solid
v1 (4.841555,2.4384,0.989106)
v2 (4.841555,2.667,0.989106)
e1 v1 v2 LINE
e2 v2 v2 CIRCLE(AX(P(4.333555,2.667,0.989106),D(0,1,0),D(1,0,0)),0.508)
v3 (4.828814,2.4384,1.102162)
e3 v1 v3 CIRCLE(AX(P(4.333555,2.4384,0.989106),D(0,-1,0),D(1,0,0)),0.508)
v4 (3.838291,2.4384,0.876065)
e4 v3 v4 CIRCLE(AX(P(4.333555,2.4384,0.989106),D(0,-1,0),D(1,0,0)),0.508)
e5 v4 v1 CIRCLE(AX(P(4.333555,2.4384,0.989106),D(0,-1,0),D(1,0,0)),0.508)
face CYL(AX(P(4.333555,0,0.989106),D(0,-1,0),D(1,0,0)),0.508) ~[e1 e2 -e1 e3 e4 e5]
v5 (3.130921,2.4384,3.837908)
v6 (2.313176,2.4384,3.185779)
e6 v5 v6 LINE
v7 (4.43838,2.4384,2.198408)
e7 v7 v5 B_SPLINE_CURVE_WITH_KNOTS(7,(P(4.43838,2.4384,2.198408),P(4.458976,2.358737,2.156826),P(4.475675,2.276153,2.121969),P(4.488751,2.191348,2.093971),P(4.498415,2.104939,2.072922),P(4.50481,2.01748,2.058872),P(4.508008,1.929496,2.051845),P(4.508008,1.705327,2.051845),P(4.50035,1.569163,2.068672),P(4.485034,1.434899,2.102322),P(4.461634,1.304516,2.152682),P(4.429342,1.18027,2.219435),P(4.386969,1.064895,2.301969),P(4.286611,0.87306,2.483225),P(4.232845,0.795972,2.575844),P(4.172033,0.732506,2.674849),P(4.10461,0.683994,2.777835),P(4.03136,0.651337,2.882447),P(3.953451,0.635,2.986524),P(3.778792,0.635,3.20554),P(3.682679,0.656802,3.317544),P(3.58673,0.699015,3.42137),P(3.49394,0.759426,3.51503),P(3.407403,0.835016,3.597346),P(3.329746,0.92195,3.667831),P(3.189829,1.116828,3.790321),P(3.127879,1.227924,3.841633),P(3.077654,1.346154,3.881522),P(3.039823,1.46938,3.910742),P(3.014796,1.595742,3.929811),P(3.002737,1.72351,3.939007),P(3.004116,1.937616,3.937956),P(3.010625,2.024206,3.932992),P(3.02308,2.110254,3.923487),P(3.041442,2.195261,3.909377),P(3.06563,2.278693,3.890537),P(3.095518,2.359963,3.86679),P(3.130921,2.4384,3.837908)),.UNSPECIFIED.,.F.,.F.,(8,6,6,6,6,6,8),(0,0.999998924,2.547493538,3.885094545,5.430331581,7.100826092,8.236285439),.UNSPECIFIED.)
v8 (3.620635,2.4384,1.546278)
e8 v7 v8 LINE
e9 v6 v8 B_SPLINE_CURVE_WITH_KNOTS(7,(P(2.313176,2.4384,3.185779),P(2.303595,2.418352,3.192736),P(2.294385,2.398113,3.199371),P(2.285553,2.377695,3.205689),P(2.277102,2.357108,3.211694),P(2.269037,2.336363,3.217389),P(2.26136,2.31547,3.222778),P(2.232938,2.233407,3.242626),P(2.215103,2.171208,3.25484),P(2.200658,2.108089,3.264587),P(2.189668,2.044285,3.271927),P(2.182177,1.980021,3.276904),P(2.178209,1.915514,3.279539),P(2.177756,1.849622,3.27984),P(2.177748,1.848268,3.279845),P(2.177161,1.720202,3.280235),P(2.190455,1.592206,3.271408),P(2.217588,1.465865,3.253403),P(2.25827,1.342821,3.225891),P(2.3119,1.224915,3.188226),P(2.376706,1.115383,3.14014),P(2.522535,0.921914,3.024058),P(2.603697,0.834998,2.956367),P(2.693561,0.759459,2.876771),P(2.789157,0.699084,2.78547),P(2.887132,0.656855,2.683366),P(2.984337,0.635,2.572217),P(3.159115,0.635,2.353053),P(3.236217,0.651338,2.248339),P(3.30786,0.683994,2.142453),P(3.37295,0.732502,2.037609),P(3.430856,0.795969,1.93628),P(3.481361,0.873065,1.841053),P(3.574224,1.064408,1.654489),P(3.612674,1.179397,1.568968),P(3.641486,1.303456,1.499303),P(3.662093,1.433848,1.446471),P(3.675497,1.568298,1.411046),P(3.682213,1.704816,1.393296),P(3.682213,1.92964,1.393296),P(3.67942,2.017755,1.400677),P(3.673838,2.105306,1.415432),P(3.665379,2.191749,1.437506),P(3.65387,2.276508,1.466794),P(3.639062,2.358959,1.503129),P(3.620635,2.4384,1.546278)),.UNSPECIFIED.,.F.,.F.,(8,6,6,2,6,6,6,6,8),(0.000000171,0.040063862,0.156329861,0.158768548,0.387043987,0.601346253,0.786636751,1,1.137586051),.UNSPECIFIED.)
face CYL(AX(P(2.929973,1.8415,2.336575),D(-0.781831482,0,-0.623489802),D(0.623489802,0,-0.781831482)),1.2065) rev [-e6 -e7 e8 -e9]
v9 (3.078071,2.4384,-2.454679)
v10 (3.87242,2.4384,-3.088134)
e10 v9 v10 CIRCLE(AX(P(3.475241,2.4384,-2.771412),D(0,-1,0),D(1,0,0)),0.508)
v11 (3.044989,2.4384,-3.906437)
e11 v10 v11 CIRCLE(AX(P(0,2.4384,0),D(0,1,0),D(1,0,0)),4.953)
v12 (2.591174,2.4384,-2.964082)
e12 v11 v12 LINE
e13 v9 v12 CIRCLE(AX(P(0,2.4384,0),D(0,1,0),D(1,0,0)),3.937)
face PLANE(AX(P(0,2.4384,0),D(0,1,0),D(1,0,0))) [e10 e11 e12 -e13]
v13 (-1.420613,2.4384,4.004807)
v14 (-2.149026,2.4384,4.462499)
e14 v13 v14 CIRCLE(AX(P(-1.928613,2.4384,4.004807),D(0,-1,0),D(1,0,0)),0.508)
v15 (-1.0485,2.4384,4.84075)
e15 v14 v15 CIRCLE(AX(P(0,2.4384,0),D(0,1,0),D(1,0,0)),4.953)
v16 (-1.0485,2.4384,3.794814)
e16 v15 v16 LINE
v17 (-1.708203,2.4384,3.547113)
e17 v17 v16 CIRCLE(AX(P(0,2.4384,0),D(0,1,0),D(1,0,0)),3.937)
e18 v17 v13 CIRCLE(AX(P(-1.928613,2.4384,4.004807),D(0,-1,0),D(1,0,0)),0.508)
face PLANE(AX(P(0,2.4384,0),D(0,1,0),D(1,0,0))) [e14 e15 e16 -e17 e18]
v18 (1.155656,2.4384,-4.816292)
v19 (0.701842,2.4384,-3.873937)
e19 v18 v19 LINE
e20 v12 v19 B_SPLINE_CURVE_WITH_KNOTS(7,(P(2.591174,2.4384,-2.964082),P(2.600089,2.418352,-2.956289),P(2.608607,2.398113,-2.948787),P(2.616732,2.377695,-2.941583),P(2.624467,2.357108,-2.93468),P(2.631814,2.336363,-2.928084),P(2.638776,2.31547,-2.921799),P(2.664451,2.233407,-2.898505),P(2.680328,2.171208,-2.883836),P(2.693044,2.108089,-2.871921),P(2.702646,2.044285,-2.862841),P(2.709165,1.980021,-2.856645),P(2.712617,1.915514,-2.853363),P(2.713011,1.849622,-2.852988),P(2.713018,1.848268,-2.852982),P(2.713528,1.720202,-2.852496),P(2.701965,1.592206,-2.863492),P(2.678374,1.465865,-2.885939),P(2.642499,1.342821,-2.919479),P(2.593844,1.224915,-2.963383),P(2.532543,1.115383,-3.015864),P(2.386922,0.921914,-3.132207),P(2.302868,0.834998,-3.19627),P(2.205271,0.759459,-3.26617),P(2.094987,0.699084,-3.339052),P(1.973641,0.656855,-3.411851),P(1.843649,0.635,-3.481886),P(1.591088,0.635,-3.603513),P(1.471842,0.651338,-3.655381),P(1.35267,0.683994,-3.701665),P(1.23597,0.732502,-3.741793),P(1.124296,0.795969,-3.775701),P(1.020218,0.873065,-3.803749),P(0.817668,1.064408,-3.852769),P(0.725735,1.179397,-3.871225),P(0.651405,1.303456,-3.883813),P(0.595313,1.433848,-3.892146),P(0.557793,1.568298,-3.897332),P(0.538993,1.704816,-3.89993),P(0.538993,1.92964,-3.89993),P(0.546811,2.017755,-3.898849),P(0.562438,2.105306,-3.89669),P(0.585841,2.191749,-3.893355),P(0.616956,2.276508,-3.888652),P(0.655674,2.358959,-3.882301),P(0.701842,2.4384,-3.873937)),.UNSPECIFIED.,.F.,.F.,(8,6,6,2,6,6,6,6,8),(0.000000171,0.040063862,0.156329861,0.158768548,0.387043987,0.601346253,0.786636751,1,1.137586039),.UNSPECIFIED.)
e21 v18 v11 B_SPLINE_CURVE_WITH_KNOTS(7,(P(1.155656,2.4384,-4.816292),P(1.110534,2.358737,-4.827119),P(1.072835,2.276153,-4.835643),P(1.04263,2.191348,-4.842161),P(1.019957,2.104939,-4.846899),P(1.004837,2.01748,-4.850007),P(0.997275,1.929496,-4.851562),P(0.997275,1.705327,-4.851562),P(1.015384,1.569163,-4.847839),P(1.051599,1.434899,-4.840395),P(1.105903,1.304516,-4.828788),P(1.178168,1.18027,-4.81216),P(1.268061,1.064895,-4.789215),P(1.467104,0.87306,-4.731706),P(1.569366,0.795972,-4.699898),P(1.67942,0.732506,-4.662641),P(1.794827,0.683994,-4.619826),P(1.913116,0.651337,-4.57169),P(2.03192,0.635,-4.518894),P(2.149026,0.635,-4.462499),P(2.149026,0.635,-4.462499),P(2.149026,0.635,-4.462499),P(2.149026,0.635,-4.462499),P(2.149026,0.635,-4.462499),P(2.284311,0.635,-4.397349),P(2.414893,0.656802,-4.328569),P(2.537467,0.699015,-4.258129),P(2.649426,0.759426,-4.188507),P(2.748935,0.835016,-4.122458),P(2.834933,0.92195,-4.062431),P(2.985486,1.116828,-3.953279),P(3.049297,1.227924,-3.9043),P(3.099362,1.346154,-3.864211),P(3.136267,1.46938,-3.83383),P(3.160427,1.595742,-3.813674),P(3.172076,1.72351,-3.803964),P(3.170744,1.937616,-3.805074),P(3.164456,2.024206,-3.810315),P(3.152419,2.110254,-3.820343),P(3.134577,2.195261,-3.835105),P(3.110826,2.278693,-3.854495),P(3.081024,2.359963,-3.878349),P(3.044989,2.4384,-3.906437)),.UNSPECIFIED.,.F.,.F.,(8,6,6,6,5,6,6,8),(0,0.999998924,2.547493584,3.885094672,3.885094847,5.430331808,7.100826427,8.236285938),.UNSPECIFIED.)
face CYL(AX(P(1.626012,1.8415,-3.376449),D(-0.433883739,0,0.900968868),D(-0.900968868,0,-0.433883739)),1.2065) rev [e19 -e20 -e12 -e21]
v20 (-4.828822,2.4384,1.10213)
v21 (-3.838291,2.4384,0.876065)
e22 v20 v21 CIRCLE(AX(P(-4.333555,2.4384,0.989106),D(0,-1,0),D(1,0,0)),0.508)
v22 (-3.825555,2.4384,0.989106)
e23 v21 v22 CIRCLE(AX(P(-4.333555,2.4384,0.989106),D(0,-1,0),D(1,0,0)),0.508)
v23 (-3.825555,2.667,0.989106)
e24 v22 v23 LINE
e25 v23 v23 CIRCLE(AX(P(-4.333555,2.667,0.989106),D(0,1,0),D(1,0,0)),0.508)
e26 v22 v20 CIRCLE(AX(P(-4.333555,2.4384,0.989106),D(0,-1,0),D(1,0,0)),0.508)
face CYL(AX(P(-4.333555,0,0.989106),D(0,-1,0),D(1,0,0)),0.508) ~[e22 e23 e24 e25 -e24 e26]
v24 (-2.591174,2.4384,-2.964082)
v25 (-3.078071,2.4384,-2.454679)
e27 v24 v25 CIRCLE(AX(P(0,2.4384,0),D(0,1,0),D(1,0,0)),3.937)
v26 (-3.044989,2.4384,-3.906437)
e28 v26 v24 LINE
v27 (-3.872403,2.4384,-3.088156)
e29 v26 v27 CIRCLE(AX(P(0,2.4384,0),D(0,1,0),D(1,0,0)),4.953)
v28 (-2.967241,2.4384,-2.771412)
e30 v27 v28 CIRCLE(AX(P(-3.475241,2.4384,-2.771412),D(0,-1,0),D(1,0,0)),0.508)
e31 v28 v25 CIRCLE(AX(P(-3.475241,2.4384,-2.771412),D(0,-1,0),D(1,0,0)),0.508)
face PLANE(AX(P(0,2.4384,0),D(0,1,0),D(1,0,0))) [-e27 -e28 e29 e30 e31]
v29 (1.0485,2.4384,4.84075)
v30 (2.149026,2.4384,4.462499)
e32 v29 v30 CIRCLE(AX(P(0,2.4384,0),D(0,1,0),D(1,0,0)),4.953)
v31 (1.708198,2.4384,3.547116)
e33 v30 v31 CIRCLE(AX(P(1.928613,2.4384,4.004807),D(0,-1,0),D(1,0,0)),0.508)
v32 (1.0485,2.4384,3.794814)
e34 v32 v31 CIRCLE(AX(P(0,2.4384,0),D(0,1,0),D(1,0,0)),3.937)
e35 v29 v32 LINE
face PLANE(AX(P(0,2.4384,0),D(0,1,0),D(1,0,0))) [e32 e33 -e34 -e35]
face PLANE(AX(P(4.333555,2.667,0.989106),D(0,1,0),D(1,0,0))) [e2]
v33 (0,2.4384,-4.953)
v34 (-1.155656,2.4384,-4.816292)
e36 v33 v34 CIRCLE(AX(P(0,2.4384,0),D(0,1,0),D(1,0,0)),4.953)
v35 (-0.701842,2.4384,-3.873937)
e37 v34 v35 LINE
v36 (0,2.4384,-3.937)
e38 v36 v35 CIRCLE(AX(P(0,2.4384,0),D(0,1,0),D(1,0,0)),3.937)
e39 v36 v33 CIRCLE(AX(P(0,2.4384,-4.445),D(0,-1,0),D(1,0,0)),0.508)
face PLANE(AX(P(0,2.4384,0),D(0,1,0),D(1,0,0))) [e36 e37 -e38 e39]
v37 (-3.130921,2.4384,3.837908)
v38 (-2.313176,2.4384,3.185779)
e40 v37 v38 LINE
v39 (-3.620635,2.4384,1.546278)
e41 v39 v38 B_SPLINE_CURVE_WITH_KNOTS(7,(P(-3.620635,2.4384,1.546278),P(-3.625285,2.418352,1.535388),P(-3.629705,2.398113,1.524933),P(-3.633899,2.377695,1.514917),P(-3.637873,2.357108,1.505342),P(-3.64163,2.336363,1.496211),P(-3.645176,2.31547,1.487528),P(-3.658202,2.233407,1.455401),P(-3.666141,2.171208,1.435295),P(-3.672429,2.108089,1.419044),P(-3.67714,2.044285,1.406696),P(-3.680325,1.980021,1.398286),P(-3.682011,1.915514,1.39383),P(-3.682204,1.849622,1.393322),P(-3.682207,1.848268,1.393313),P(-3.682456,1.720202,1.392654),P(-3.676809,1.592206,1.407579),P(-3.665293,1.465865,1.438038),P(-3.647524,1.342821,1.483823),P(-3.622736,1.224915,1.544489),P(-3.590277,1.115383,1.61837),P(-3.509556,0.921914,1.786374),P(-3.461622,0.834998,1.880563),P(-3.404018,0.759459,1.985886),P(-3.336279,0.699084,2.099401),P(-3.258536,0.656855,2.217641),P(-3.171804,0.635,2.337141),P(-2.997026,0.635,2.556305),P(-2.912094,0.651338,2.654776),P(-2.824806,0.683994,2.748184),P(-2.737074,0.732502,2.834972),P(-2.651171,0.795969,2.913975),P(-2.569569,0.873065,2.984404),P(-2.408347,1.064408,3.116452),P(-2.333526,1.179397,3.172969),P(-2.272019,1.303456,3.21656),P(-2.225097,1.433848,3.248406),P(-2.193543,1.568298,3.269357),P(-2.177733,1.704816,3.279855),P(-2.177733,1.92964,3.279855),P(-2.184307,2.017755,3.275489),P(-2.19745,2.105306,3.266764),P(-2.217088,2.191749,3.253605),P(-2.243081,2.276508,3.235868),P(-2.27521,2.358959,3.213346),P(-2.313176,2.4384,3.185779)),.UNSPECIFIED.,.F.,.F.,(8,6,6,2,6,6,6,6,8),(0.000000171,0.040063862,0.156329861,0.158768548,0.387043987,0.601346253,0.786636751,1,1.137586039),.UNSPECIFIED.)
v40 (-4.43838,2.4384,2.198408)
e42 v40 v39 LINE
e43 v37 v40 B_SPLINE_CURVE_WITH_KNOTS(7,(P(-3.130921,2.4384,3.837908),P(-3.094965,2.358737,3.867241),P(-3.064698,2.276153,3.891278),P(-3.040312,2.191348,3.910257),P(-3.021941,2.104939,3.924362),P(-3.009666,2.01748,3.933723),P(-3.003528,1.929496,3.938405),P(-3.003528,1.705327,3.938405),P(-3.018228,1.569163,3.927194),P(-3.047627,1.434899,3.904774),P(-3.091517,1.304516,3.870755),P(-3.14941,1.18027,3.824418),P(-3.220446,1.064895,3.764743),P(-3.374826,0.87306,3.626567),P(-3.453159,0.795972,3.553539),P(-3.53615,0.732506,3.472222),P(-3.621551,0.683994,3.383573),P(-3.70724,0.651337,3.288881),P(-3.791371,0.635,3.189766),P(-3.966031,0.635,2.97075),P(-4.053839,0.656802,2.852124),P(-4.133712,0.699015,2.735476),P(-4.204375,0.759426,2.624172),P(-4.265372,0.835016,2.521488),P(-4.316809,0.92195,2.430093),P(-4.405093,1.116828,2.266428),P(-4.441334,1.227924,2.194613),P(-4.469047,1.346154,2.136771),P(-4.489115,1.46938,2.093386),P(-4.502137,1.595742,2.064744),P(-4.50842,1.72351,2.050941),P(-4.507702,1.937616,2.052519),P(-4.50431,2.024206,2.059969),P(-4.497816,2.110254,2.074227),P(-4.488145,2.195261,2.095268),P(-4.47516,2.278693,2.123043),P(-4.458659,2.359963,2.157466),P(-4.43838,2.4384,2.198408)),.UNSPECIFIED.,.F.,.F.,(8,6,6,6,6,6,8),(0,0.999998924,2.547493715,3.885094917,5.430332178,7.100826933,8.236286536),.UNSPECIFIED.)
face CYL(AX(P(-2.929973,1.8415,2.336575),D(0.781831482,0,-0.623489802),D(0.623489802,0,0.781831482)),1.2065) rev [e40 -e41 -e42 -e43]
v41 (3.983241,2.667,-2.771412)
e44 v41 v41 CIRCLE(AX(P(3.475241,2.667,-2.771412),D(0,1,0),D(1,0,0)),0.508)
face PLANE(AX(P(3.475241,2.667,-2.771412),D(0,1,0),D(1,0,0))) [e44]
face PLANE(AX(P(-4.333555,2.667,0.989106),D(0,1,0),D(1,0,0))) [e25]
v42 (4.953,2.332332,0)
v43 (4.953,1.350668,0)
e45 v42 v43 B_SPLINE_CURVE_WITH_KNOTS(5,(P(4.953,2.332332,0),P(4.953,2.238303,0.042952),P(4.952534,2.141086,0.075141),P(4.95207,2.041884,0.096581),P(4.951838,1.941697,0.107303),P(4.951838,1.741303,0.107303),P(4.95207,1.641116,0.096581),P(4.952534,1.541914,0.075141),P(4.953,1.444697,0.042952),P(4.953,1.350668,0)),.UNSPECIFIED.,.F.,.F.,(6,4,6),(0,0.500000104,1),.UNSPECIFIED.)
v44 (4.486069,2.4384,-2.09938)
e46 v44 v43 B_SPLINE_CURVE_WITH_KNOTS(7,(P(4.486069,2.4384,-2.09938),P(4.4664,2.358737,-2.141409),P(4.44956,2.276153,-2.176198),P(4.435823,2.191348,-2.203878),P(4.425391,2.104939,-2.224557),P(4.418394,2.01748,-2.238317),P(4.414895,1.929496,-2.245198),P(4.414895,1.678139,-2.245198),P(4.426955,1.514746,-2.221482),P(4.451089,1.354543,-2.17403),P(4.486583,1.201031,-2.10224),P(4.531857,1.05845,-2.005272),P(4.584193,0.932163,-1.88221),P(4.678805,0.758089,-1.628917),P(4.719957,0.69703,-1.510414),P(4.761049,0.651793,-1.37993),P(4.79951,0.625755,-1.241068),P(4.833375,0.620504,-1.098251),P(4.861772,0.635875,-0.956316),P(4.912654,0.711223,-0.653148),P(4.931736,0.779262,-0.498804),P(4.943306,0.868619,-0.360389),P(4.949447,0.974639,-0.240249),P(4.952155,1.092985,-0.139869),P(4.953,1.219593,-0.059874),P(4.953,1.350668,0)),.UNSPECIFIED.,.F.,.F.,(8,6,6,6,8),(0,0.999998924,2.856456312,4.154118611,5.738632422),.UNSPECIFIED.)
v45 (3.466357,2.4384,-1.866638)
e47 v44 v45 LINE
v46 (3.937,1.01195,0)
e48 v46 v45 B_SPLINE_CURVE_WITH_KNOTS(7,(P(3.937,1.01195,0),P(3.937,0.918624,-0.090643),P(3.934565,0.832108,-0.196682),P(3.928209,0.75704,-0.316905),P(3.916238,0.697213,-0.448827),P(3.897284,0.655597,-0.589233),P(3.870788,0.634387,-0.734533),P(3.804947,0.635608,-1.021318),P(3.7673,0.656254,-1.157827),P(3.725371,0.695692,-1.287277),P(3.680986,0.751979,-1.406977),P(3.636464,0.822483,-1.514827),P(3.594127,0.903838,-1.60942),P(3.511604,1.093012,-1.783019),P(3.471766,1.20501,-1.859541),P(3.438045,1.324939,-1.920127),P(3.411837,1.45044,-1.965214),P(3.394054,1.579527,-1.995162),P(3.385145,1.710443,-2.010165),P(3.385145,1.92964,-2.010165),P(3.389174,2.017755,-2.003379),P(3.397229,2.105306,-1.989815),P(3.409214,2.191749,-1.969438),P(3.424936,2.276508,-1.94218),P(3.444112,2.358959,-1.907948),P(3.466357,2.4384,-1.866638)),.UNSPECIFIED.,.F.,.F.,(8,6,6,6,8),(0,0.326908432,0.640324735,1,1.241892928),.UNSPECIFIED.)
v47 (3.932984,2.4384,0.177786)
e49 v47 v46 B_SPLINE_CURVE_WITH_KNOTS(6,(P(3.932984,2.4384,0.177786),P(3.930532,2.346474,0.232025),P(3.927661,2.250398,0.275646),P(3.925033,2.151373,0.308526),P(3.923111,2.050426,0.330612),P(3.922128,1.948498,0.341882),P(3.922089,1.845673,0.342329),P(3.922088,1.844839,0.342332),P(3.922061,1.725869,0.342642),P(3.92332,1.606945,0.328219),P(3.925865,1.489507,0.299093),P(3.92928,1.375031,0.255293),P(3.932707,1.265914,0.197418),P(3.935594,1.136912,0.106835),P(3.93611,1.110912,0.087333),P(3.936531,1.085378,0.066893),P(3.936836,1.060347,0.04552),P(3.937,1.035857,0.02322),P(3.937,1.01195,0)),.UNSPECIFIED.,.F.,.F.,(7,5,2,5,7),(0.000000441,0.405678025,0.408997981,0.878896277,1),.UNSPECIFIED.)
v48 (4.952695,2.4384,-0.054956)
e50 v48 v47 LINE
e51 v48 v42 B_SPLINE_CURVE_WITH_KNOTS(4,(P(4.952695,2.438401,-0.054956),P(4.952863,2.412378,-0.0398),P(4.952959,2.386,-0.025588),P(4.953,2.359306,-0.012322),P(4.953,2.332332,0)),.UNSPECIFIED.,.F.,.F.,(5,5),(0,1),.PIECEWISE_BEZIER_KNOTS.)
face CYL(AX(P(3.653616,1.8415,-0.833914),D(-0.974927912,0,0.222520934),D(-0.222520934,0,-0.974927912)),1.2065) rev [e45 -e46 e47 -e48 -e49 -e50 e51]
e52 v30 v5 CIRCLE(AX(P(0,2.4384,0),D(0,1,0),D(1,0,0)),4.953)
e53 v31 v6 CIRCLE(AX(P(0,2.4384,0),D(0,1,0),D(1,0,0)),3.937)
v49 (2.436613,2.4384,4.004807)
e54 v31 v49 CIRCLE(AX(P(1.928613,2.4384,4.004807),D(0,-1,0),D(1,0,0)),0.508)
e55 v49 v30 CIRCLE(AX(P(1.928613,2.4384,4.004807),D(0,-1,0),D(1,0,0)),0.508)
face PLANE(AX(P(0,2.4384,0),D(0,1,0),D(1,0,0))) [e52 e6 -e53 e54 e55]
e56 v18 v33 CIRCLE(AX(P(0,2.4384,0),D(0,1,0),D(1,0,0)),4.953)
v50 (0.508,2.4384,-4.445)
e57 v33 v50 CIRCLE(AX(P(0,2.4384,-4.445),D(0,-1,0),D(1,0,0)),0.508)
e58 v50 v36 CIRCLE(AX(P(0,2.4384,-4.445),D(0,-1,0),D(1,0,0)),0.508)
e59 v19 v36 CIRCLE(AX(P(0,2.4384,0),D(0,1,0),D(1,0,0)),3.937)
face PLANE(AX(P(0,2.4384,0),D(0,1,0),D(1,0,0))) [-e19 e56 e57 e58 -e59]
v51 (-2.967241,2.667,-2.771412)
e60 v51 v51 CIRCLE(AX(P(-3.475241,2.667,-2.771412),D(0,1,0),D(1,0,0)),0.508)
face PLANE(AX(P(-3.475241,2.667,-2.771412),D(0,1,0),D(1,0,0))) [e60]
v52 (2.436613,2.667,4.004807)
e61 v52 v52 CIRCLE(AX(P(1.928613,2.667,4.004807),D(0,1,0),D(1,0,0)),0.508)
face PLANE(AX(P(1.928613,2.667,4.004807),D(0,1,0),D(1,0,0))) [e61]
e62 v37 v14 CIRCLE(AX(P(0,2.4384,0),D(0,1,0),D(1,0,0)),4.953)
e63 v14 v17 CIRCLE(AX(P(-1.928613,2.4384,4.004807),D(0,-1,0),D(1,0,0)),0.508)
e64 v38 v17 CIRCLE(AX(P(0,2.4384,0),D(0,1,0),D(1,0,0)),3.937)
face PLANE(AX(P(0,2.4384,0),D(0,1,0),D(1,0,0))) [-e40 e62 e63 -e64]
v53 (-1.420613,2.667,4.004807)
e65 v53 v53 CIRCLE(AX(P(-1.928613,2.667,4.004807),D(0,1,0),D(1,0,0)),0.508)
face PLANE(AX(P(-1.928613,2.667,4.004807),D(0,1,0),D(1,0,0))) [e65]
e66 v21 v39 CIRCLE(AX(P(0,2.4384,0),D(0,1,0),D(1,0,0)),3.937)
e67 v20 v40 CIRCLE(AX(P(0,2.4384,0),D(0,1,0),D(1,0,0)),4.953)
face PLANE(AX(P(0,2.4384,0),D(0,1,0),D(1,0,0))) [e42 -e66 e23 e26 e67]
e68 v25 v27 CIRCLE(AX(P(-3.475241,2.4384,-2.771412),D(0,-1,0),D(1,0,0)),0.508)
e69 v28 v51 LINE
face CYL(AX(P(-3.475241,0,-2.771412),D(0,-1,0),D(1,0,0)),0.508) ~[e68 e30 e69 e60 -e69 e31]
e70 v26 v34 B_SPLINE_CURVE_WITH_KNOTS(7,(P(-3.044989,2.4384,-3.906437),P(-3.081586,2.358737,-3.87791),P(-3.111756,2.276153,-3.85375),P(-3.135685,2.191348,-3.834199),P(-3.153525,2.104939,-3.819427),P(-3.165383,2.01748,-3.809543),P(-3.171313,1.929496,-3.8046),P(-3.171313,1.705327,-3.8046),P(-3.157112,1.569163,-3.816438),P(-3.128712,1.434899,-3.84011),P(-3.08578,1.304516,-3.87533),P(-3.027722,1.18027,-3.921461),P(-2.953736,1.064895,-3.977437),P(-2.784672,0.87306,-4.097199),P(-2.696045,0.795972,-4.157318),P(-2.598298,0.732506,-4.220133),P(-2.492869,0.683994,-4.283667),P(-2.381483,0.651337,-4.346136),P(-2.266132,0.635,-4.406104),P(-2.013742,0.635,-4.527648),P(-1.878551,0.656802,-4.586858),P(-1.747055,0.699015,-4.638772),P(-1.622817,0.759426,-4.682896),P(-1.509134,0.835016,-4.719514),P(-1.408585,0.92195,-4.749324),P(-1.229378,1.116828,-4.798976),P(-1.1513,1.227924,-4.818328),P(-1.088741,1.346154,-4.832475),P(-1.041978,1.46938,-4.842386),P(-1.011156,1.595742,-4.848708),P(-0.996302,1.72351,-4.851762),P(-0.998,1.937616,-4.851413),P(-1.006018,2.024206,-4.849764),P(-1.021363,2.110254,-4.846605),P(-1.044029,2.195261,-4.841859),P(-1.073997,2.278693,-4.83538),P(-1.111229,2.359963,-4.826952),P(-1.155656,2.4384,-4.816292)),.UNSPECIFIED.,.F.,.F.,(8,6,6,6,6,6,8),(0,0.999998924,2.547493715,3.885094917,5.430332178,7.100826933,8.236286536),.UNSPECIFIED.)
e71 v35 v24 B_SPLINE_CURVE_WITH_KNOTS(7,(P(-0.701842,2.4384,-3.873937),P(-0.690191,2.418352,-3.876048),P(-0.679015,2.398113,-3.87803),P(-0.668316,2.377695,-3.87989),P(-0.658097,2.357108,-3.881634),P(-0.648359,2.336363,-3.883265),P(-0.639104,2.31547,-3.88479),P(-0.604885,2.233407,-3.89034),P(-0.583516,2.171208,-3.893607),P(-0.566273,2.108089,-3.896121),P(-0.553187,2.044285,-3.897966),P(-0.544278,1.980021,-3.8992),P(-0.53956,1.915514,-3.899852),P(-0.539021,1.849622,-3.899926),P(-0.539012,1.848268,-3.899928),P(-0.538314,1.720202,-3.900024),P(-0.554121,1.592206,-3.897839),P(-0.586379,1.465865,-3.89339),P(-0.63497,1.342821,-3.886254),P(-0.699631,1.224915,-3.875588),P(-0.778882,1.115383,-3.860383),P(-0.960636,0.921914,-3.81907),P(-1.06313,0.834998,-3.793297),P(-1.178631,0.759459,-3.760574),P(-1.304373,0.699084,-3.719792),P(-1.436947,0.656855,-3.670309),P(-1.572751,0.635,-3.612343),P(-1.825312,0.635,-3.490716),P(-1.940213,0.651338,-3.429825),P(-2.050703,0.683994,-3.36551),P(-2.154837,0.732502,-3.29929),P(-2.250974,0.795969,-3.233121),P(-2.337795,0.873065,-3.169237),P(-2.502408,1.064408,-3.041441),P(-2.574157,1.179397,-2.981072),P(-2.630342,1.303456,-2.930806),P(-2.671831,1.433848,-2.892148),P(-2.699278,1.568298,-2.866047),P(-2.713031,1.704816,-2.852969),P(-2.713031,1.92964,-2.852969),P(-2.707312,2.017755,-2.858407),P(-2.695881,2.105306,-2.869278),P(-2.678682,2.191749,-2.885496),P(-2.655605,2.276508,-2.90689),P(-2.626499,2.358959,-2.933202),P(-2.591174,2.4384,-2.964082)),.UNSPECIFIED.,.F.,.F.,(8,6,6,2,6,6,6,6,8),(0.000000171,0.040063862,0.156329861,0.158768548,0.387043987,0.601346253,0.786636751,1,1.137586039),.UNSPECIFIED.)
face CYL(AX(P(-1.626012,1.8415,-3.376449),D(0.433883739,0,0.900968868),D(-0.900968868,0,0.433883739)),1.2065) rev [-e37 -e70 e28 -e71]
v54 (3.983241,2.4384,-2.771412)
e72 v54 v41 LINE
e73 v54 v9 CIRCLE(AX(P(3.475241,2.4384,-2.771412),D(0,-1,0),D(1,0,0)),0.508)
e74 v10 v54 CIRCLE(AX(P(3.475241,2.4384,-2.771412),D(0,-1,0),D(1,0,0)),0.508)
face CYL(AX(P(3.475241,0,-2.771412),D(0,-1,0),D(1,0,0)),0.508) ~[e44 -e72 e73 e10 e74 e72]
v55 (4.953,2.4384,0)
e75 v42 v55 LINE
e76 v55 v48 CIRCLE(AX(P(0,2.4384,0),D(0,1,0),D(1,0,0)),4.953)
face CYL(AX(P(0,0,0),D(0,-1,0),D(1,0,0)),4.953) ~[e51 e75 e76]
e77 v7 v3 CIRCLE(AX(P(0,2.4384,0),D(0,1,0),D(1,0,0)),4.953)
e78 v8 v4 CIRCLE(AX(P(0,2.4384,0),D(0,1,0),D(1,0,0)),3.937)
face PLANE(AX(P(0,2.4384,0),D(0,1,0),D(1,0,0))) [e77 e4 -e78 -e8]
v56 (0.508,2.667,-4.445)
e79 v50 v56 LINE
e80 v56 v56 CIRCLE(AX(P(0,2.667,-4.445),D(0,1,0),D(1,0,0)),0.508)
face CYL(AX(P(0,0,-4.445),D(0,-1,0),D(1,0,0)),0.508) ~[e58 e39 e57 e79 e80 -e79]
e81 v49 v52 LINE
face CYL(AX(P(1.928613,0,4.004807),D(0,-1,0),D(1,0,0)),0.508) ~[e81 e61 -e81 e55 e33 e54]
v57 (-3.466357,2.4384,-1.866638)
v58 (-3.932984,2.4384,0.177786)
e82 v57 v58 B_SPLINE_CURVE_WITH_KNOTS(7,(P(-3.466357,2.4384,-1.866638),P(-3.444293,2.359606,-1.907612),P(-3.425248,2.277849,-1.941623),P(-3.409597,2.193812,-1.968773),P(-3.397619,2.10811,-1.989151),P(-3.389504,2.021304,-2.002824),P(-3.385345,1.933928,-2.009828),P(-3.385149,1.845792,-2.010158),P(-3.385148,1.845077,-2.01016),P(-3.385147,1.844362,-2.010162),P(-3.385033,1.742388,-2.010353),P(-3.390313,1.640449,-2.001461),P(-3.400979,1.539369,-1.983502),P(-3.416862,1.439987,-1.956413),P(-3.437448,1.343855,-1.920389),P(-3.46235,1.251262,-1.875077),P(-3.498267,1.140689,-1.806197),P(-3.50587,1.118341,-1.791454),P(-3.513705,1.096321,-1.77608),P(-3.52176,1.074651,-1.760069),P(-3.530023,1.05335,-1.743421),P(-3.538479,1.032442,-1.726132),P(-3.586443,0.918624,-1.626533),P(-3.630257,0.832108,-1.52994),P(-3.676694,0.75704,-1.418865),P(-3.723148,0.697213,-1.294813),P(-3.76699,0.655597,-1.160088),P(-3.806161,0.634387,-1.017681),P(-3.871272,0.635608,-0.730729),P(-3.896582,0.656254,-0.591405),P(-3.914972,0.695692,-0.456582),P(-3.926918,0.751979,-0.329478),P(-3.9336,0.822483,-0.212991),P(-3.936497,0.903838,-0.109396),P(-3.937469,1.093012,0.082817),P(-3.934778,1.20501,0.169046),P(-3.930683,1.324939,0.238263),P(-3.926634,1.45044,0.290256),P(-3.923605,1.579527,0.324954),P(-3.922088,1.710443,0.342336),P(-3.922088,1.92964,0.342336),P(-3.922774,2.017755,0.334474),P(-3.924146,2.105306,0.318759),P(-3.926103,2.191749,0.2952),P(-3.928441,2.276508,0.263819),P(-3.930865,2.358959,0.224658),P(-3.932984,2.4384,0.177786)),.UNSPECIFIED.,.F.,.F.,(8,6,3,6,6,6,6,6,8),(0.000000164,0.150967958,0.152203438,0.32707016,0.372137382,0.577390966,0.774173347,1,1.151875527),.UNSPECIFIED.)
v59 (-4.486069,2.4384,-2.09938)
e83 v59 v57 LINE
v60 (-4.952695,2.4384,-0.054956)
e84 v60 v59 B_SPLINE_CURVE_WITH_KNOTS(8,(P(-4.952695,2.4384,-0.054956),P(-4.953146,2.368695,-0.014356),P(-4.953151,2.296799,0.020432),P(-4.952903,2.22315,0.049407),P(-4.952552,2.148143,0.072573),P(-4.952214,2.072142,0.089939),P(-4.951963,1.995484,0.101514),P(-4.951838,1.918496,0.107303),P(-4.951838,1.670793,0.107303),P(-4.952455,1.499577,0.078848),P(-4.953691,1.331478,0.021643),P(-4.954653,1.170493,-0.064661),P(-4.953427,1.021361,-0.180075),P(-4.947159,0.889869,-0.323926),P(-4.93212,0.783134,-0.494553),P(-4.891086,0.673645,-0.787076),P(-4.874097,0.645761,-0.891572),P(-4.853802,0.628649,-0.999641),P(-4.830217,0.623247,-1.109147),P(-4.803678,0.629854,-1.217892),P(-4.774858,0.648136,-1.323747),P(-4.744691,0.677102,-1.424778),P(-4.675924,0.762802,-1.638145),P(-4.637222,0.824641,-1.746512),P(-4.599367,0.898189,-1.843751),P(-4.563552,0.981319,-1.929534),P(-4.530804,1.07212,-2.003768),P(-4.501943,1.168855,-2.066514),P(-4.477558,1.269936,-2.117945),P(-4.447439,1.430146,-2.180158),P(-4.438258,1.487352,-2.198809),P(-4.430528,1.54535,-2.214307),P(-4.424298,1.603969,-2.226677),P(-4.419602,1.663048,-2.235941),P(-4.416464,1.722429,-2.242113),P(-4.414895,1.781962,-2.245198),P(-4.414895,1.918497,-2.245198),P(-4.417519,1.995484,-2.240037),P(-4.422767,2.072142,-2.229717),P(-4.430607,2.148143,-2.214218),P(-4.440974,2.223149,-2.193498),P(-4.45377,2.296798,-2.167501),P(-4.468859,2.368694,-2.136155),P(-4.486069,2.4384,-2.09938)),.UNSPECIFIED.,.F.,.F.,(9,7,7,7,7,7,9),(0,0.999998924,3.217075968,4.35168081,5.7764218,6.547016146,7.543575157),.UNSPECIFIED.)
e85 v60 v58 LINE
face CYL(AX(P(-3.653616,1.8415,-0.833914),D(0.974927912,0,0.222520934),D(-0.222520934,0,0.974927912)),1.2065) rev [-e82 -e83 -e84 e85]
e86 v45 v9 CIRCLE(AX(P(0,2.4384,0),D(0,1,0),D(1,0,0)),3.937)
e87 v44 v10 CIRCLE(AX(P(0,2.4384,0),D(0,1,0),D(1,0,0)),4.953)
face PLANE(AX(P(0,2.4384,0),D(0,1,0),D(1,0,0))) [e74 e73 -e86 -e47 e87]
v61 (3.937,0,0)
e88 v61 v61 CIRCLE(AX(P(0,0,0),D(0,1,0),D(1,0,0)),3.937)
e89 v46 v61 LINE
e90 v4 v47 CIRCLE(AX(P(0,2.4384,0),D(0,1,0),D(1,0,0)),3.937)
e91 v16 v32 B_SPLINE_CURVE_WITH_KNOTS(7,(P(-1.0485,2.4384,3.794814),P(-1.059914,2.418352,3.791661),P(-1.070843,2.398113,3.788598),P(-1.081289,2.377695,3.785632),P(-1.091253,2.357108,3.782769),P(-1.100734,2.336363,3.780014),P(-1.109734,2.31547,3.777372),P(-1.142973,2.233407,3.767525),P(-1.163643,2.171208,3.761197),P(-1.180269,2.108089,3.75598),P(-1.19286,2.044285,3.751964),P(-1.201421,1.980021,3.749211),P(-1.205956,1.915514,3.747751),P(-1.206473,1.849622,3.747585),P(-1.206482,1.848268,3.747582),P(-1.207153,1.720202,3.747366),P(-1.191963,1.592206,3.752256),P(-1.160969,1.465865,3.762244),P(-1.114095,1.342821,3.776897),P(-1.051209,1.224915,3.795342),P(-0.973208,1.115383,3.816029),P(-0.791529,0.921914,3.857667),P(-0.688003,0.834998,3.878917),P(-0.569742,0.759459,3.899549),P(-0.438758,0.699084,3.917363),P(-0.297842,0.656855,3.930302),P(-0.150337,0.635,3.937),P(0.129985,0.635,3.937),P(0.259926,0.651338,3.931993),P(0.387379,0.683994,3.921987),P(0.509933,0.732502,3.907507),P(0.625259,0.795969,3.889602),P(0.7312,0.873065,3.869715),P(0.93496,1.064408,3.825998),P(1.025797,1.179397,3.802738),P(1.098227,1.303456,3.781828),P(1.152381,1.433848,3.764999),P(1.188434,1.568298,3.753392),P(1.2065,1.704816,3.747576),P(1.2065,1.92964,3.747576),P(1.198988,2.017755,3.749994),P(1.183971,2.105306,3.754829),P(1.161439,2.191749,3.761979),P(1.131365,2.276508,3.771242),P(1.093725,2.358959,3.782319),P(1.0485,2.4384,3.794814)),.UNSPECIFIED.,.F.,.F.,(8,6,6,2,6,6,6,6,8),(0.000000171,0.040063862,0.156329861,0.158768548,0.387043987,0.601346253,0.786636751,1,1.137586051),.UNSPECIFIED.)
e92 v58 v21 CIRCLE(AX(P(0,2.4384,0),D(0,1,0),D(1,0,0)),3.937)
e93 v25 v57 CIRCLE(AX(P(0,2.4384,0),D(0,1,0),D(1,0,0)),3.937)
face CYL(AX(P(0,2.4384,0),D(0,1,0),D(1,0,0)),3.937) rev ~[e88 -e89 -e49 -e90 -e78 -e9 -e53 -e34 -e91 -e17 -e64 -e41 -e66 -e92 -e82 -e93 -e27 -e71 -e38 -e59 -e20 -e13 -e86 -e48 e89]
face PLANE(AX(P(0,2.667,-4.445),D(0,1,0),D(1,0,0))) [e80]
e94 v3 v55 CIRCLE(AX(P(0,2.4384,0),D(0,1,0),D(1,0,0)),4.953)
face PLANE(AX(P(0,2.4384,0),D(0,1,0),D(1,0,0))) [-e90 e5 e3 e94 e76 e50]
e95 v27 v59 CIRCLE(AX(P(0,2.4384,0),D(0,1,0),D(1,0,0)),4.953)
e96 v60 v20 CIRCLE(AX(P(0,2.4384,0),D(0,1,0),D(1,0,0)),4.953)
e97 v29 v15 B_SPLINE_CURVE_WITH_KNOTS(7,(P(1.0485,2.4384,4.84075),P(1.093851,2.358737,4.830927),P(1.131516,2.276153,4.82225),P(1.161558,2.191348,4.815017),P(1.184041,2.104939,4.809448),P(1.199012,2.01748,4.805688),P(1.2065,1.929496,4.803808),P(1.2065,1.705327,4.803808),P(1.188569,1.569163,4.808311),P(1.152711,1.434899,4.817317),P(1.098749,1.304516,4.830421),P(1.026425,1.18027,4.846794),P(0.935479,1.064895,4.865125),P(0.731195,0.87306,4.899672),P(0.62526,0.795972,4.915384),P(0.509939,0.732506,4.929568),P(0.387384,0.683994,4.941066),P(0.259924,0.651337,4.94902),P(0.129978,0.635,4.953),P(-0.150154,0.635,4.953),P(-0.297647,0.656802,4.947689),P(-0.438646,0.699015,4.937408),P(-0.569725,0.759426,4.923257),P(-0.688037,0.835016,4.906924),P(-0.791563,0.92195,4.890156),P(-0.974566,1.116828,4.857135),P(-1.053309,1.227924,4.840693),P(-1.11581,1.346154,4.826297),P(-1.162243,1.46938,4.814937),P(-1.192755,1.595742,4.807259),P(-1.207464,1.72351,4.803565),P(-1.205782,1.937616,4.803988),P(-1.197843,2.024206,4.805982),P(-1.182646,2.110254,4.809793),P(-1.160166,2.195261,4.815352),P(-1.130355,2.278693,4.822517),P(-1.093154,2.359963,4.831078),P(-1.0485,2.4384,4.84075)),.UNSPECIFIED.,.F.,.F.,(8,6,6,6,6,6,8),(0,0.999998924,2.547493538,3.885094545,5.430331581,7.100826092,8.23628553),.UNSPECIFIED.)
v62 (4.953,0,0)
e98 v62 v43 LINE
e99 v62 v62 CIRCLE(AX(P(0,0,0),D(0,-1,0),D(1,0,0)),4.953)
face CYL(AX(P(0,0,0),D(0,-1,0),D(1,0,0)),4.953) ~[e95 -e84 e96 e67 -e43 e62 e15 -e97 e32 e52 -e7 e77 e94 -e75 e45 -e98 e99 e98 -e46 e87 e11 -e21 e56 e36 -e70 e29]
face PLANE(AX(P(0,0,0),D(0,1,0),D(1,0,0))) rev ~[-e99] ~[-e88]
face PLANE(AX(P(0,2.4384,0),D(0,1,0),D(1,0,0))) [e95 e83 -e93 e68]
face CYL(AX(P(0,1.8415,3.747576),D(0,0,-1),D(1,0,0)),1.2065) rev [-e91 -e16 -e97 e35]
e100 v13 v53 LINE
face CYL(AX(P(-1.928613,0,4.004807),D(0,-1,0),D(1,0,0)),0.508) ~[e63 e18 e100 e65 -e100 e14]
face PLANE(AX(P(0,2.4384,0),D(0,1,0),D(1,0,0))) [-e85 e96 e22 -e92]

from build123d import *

# Parameters (mm, degrees)
SKETCH1_R           = 4.953
BOSS_EXTRUDE1_DEPTH = 2.4384
SKETCH2_R           = 3.937
CUT_EXTRUDE1_DEPTH  = 2.4384
SKETCH3_R           = 0.508
BOSS_EXTRUDE2_DEPTH = 2.667
CUT_EXTRUDE2_START  = 3.747576
SKETCH4_R           = 1.2065
CUT_EXTRUDE2_DEPTH  = 1.205424
CIRPATTERN1_COUNT   = 7


with BuildPart() as part:
    # Sketch1 → Boss-Extrude1 (new body)
    with BuildSketch(Plane(origin=(0, 0, 0), x_dir=(1, 0, 0), z_dir=(0, 1, 0))):
        Circle(SKETCH1_R)
    extrude(amount=BOSS_EXTRUDE1_DEPTH)

    # Sketch2 → Cut-Extrude1 (cut)
    with BuildSketch(Plane(origin=(0, 2.4384, 0), x_dir=(1, 0, 0), z_dir=(0, 1, 0))):
        Circle(SKETCH2_R)
    extrude(amount=-CUT_EXTRUDE1_DEPTH, mode=Mode.SUBTRACT)

    # Sketch3 → Boss-Extrude2 (add)
    with BuildSketch(Plane(origin=(0, 0, 0), x_dir=(1, 0, 0), z_dir=(0, 1, 0))):
        with Locations((0, 4.445)):
            Circle(SKETCH3_R)
        with Locations((3.47524094, 2.771412169)):
            Circle(SKETCH3_R)
        with Locations((4.33355457, -0.989105551)):
            Circle(SKETCH3_R)
        with Locations((1.92861322, -4.004806618)):
            Circle(SKETCH3_R)
        with Locations((-1.92861322, -4.004806618)):
            Circle(SKETCH3_R)
        with Locations((-4.33355457, -0.989105551)):
            Circle(SKETCH3_R)
        with Locations((-3.47524094, 2.771412169)):
            Circle(SKETCH3_R)
    extrude(amount=BOSS_EXTRUDE2_DEPTH)

    # Sketch4 → Cut-Extrude2 (cut)
    with BuildSketch(Plane.XY.offset(CUT_EXTRUDE2_START)):
        with Locations((0, 1.8415)):
            Circle(SKETCH4_R)
    cut_extrude2 = extrude(amount=CUT_EXTRUDE2_DEPTH, mode=Mode.SUBTRACT)

    # CirPattern1: Cut-Extrude2 ×7 about axis
    cirpattern1_axis = Axis((0, 0, 0), (0, -1, 0))
    for i in range(1, CIRPATTERN1_COUNT):
        add(cut_extrude2.rotate(cirpattern1_axis, i * 360 / CIRPATTERN1_COUNT), mode=Mode.SUBTRACT)


solid = part.part
